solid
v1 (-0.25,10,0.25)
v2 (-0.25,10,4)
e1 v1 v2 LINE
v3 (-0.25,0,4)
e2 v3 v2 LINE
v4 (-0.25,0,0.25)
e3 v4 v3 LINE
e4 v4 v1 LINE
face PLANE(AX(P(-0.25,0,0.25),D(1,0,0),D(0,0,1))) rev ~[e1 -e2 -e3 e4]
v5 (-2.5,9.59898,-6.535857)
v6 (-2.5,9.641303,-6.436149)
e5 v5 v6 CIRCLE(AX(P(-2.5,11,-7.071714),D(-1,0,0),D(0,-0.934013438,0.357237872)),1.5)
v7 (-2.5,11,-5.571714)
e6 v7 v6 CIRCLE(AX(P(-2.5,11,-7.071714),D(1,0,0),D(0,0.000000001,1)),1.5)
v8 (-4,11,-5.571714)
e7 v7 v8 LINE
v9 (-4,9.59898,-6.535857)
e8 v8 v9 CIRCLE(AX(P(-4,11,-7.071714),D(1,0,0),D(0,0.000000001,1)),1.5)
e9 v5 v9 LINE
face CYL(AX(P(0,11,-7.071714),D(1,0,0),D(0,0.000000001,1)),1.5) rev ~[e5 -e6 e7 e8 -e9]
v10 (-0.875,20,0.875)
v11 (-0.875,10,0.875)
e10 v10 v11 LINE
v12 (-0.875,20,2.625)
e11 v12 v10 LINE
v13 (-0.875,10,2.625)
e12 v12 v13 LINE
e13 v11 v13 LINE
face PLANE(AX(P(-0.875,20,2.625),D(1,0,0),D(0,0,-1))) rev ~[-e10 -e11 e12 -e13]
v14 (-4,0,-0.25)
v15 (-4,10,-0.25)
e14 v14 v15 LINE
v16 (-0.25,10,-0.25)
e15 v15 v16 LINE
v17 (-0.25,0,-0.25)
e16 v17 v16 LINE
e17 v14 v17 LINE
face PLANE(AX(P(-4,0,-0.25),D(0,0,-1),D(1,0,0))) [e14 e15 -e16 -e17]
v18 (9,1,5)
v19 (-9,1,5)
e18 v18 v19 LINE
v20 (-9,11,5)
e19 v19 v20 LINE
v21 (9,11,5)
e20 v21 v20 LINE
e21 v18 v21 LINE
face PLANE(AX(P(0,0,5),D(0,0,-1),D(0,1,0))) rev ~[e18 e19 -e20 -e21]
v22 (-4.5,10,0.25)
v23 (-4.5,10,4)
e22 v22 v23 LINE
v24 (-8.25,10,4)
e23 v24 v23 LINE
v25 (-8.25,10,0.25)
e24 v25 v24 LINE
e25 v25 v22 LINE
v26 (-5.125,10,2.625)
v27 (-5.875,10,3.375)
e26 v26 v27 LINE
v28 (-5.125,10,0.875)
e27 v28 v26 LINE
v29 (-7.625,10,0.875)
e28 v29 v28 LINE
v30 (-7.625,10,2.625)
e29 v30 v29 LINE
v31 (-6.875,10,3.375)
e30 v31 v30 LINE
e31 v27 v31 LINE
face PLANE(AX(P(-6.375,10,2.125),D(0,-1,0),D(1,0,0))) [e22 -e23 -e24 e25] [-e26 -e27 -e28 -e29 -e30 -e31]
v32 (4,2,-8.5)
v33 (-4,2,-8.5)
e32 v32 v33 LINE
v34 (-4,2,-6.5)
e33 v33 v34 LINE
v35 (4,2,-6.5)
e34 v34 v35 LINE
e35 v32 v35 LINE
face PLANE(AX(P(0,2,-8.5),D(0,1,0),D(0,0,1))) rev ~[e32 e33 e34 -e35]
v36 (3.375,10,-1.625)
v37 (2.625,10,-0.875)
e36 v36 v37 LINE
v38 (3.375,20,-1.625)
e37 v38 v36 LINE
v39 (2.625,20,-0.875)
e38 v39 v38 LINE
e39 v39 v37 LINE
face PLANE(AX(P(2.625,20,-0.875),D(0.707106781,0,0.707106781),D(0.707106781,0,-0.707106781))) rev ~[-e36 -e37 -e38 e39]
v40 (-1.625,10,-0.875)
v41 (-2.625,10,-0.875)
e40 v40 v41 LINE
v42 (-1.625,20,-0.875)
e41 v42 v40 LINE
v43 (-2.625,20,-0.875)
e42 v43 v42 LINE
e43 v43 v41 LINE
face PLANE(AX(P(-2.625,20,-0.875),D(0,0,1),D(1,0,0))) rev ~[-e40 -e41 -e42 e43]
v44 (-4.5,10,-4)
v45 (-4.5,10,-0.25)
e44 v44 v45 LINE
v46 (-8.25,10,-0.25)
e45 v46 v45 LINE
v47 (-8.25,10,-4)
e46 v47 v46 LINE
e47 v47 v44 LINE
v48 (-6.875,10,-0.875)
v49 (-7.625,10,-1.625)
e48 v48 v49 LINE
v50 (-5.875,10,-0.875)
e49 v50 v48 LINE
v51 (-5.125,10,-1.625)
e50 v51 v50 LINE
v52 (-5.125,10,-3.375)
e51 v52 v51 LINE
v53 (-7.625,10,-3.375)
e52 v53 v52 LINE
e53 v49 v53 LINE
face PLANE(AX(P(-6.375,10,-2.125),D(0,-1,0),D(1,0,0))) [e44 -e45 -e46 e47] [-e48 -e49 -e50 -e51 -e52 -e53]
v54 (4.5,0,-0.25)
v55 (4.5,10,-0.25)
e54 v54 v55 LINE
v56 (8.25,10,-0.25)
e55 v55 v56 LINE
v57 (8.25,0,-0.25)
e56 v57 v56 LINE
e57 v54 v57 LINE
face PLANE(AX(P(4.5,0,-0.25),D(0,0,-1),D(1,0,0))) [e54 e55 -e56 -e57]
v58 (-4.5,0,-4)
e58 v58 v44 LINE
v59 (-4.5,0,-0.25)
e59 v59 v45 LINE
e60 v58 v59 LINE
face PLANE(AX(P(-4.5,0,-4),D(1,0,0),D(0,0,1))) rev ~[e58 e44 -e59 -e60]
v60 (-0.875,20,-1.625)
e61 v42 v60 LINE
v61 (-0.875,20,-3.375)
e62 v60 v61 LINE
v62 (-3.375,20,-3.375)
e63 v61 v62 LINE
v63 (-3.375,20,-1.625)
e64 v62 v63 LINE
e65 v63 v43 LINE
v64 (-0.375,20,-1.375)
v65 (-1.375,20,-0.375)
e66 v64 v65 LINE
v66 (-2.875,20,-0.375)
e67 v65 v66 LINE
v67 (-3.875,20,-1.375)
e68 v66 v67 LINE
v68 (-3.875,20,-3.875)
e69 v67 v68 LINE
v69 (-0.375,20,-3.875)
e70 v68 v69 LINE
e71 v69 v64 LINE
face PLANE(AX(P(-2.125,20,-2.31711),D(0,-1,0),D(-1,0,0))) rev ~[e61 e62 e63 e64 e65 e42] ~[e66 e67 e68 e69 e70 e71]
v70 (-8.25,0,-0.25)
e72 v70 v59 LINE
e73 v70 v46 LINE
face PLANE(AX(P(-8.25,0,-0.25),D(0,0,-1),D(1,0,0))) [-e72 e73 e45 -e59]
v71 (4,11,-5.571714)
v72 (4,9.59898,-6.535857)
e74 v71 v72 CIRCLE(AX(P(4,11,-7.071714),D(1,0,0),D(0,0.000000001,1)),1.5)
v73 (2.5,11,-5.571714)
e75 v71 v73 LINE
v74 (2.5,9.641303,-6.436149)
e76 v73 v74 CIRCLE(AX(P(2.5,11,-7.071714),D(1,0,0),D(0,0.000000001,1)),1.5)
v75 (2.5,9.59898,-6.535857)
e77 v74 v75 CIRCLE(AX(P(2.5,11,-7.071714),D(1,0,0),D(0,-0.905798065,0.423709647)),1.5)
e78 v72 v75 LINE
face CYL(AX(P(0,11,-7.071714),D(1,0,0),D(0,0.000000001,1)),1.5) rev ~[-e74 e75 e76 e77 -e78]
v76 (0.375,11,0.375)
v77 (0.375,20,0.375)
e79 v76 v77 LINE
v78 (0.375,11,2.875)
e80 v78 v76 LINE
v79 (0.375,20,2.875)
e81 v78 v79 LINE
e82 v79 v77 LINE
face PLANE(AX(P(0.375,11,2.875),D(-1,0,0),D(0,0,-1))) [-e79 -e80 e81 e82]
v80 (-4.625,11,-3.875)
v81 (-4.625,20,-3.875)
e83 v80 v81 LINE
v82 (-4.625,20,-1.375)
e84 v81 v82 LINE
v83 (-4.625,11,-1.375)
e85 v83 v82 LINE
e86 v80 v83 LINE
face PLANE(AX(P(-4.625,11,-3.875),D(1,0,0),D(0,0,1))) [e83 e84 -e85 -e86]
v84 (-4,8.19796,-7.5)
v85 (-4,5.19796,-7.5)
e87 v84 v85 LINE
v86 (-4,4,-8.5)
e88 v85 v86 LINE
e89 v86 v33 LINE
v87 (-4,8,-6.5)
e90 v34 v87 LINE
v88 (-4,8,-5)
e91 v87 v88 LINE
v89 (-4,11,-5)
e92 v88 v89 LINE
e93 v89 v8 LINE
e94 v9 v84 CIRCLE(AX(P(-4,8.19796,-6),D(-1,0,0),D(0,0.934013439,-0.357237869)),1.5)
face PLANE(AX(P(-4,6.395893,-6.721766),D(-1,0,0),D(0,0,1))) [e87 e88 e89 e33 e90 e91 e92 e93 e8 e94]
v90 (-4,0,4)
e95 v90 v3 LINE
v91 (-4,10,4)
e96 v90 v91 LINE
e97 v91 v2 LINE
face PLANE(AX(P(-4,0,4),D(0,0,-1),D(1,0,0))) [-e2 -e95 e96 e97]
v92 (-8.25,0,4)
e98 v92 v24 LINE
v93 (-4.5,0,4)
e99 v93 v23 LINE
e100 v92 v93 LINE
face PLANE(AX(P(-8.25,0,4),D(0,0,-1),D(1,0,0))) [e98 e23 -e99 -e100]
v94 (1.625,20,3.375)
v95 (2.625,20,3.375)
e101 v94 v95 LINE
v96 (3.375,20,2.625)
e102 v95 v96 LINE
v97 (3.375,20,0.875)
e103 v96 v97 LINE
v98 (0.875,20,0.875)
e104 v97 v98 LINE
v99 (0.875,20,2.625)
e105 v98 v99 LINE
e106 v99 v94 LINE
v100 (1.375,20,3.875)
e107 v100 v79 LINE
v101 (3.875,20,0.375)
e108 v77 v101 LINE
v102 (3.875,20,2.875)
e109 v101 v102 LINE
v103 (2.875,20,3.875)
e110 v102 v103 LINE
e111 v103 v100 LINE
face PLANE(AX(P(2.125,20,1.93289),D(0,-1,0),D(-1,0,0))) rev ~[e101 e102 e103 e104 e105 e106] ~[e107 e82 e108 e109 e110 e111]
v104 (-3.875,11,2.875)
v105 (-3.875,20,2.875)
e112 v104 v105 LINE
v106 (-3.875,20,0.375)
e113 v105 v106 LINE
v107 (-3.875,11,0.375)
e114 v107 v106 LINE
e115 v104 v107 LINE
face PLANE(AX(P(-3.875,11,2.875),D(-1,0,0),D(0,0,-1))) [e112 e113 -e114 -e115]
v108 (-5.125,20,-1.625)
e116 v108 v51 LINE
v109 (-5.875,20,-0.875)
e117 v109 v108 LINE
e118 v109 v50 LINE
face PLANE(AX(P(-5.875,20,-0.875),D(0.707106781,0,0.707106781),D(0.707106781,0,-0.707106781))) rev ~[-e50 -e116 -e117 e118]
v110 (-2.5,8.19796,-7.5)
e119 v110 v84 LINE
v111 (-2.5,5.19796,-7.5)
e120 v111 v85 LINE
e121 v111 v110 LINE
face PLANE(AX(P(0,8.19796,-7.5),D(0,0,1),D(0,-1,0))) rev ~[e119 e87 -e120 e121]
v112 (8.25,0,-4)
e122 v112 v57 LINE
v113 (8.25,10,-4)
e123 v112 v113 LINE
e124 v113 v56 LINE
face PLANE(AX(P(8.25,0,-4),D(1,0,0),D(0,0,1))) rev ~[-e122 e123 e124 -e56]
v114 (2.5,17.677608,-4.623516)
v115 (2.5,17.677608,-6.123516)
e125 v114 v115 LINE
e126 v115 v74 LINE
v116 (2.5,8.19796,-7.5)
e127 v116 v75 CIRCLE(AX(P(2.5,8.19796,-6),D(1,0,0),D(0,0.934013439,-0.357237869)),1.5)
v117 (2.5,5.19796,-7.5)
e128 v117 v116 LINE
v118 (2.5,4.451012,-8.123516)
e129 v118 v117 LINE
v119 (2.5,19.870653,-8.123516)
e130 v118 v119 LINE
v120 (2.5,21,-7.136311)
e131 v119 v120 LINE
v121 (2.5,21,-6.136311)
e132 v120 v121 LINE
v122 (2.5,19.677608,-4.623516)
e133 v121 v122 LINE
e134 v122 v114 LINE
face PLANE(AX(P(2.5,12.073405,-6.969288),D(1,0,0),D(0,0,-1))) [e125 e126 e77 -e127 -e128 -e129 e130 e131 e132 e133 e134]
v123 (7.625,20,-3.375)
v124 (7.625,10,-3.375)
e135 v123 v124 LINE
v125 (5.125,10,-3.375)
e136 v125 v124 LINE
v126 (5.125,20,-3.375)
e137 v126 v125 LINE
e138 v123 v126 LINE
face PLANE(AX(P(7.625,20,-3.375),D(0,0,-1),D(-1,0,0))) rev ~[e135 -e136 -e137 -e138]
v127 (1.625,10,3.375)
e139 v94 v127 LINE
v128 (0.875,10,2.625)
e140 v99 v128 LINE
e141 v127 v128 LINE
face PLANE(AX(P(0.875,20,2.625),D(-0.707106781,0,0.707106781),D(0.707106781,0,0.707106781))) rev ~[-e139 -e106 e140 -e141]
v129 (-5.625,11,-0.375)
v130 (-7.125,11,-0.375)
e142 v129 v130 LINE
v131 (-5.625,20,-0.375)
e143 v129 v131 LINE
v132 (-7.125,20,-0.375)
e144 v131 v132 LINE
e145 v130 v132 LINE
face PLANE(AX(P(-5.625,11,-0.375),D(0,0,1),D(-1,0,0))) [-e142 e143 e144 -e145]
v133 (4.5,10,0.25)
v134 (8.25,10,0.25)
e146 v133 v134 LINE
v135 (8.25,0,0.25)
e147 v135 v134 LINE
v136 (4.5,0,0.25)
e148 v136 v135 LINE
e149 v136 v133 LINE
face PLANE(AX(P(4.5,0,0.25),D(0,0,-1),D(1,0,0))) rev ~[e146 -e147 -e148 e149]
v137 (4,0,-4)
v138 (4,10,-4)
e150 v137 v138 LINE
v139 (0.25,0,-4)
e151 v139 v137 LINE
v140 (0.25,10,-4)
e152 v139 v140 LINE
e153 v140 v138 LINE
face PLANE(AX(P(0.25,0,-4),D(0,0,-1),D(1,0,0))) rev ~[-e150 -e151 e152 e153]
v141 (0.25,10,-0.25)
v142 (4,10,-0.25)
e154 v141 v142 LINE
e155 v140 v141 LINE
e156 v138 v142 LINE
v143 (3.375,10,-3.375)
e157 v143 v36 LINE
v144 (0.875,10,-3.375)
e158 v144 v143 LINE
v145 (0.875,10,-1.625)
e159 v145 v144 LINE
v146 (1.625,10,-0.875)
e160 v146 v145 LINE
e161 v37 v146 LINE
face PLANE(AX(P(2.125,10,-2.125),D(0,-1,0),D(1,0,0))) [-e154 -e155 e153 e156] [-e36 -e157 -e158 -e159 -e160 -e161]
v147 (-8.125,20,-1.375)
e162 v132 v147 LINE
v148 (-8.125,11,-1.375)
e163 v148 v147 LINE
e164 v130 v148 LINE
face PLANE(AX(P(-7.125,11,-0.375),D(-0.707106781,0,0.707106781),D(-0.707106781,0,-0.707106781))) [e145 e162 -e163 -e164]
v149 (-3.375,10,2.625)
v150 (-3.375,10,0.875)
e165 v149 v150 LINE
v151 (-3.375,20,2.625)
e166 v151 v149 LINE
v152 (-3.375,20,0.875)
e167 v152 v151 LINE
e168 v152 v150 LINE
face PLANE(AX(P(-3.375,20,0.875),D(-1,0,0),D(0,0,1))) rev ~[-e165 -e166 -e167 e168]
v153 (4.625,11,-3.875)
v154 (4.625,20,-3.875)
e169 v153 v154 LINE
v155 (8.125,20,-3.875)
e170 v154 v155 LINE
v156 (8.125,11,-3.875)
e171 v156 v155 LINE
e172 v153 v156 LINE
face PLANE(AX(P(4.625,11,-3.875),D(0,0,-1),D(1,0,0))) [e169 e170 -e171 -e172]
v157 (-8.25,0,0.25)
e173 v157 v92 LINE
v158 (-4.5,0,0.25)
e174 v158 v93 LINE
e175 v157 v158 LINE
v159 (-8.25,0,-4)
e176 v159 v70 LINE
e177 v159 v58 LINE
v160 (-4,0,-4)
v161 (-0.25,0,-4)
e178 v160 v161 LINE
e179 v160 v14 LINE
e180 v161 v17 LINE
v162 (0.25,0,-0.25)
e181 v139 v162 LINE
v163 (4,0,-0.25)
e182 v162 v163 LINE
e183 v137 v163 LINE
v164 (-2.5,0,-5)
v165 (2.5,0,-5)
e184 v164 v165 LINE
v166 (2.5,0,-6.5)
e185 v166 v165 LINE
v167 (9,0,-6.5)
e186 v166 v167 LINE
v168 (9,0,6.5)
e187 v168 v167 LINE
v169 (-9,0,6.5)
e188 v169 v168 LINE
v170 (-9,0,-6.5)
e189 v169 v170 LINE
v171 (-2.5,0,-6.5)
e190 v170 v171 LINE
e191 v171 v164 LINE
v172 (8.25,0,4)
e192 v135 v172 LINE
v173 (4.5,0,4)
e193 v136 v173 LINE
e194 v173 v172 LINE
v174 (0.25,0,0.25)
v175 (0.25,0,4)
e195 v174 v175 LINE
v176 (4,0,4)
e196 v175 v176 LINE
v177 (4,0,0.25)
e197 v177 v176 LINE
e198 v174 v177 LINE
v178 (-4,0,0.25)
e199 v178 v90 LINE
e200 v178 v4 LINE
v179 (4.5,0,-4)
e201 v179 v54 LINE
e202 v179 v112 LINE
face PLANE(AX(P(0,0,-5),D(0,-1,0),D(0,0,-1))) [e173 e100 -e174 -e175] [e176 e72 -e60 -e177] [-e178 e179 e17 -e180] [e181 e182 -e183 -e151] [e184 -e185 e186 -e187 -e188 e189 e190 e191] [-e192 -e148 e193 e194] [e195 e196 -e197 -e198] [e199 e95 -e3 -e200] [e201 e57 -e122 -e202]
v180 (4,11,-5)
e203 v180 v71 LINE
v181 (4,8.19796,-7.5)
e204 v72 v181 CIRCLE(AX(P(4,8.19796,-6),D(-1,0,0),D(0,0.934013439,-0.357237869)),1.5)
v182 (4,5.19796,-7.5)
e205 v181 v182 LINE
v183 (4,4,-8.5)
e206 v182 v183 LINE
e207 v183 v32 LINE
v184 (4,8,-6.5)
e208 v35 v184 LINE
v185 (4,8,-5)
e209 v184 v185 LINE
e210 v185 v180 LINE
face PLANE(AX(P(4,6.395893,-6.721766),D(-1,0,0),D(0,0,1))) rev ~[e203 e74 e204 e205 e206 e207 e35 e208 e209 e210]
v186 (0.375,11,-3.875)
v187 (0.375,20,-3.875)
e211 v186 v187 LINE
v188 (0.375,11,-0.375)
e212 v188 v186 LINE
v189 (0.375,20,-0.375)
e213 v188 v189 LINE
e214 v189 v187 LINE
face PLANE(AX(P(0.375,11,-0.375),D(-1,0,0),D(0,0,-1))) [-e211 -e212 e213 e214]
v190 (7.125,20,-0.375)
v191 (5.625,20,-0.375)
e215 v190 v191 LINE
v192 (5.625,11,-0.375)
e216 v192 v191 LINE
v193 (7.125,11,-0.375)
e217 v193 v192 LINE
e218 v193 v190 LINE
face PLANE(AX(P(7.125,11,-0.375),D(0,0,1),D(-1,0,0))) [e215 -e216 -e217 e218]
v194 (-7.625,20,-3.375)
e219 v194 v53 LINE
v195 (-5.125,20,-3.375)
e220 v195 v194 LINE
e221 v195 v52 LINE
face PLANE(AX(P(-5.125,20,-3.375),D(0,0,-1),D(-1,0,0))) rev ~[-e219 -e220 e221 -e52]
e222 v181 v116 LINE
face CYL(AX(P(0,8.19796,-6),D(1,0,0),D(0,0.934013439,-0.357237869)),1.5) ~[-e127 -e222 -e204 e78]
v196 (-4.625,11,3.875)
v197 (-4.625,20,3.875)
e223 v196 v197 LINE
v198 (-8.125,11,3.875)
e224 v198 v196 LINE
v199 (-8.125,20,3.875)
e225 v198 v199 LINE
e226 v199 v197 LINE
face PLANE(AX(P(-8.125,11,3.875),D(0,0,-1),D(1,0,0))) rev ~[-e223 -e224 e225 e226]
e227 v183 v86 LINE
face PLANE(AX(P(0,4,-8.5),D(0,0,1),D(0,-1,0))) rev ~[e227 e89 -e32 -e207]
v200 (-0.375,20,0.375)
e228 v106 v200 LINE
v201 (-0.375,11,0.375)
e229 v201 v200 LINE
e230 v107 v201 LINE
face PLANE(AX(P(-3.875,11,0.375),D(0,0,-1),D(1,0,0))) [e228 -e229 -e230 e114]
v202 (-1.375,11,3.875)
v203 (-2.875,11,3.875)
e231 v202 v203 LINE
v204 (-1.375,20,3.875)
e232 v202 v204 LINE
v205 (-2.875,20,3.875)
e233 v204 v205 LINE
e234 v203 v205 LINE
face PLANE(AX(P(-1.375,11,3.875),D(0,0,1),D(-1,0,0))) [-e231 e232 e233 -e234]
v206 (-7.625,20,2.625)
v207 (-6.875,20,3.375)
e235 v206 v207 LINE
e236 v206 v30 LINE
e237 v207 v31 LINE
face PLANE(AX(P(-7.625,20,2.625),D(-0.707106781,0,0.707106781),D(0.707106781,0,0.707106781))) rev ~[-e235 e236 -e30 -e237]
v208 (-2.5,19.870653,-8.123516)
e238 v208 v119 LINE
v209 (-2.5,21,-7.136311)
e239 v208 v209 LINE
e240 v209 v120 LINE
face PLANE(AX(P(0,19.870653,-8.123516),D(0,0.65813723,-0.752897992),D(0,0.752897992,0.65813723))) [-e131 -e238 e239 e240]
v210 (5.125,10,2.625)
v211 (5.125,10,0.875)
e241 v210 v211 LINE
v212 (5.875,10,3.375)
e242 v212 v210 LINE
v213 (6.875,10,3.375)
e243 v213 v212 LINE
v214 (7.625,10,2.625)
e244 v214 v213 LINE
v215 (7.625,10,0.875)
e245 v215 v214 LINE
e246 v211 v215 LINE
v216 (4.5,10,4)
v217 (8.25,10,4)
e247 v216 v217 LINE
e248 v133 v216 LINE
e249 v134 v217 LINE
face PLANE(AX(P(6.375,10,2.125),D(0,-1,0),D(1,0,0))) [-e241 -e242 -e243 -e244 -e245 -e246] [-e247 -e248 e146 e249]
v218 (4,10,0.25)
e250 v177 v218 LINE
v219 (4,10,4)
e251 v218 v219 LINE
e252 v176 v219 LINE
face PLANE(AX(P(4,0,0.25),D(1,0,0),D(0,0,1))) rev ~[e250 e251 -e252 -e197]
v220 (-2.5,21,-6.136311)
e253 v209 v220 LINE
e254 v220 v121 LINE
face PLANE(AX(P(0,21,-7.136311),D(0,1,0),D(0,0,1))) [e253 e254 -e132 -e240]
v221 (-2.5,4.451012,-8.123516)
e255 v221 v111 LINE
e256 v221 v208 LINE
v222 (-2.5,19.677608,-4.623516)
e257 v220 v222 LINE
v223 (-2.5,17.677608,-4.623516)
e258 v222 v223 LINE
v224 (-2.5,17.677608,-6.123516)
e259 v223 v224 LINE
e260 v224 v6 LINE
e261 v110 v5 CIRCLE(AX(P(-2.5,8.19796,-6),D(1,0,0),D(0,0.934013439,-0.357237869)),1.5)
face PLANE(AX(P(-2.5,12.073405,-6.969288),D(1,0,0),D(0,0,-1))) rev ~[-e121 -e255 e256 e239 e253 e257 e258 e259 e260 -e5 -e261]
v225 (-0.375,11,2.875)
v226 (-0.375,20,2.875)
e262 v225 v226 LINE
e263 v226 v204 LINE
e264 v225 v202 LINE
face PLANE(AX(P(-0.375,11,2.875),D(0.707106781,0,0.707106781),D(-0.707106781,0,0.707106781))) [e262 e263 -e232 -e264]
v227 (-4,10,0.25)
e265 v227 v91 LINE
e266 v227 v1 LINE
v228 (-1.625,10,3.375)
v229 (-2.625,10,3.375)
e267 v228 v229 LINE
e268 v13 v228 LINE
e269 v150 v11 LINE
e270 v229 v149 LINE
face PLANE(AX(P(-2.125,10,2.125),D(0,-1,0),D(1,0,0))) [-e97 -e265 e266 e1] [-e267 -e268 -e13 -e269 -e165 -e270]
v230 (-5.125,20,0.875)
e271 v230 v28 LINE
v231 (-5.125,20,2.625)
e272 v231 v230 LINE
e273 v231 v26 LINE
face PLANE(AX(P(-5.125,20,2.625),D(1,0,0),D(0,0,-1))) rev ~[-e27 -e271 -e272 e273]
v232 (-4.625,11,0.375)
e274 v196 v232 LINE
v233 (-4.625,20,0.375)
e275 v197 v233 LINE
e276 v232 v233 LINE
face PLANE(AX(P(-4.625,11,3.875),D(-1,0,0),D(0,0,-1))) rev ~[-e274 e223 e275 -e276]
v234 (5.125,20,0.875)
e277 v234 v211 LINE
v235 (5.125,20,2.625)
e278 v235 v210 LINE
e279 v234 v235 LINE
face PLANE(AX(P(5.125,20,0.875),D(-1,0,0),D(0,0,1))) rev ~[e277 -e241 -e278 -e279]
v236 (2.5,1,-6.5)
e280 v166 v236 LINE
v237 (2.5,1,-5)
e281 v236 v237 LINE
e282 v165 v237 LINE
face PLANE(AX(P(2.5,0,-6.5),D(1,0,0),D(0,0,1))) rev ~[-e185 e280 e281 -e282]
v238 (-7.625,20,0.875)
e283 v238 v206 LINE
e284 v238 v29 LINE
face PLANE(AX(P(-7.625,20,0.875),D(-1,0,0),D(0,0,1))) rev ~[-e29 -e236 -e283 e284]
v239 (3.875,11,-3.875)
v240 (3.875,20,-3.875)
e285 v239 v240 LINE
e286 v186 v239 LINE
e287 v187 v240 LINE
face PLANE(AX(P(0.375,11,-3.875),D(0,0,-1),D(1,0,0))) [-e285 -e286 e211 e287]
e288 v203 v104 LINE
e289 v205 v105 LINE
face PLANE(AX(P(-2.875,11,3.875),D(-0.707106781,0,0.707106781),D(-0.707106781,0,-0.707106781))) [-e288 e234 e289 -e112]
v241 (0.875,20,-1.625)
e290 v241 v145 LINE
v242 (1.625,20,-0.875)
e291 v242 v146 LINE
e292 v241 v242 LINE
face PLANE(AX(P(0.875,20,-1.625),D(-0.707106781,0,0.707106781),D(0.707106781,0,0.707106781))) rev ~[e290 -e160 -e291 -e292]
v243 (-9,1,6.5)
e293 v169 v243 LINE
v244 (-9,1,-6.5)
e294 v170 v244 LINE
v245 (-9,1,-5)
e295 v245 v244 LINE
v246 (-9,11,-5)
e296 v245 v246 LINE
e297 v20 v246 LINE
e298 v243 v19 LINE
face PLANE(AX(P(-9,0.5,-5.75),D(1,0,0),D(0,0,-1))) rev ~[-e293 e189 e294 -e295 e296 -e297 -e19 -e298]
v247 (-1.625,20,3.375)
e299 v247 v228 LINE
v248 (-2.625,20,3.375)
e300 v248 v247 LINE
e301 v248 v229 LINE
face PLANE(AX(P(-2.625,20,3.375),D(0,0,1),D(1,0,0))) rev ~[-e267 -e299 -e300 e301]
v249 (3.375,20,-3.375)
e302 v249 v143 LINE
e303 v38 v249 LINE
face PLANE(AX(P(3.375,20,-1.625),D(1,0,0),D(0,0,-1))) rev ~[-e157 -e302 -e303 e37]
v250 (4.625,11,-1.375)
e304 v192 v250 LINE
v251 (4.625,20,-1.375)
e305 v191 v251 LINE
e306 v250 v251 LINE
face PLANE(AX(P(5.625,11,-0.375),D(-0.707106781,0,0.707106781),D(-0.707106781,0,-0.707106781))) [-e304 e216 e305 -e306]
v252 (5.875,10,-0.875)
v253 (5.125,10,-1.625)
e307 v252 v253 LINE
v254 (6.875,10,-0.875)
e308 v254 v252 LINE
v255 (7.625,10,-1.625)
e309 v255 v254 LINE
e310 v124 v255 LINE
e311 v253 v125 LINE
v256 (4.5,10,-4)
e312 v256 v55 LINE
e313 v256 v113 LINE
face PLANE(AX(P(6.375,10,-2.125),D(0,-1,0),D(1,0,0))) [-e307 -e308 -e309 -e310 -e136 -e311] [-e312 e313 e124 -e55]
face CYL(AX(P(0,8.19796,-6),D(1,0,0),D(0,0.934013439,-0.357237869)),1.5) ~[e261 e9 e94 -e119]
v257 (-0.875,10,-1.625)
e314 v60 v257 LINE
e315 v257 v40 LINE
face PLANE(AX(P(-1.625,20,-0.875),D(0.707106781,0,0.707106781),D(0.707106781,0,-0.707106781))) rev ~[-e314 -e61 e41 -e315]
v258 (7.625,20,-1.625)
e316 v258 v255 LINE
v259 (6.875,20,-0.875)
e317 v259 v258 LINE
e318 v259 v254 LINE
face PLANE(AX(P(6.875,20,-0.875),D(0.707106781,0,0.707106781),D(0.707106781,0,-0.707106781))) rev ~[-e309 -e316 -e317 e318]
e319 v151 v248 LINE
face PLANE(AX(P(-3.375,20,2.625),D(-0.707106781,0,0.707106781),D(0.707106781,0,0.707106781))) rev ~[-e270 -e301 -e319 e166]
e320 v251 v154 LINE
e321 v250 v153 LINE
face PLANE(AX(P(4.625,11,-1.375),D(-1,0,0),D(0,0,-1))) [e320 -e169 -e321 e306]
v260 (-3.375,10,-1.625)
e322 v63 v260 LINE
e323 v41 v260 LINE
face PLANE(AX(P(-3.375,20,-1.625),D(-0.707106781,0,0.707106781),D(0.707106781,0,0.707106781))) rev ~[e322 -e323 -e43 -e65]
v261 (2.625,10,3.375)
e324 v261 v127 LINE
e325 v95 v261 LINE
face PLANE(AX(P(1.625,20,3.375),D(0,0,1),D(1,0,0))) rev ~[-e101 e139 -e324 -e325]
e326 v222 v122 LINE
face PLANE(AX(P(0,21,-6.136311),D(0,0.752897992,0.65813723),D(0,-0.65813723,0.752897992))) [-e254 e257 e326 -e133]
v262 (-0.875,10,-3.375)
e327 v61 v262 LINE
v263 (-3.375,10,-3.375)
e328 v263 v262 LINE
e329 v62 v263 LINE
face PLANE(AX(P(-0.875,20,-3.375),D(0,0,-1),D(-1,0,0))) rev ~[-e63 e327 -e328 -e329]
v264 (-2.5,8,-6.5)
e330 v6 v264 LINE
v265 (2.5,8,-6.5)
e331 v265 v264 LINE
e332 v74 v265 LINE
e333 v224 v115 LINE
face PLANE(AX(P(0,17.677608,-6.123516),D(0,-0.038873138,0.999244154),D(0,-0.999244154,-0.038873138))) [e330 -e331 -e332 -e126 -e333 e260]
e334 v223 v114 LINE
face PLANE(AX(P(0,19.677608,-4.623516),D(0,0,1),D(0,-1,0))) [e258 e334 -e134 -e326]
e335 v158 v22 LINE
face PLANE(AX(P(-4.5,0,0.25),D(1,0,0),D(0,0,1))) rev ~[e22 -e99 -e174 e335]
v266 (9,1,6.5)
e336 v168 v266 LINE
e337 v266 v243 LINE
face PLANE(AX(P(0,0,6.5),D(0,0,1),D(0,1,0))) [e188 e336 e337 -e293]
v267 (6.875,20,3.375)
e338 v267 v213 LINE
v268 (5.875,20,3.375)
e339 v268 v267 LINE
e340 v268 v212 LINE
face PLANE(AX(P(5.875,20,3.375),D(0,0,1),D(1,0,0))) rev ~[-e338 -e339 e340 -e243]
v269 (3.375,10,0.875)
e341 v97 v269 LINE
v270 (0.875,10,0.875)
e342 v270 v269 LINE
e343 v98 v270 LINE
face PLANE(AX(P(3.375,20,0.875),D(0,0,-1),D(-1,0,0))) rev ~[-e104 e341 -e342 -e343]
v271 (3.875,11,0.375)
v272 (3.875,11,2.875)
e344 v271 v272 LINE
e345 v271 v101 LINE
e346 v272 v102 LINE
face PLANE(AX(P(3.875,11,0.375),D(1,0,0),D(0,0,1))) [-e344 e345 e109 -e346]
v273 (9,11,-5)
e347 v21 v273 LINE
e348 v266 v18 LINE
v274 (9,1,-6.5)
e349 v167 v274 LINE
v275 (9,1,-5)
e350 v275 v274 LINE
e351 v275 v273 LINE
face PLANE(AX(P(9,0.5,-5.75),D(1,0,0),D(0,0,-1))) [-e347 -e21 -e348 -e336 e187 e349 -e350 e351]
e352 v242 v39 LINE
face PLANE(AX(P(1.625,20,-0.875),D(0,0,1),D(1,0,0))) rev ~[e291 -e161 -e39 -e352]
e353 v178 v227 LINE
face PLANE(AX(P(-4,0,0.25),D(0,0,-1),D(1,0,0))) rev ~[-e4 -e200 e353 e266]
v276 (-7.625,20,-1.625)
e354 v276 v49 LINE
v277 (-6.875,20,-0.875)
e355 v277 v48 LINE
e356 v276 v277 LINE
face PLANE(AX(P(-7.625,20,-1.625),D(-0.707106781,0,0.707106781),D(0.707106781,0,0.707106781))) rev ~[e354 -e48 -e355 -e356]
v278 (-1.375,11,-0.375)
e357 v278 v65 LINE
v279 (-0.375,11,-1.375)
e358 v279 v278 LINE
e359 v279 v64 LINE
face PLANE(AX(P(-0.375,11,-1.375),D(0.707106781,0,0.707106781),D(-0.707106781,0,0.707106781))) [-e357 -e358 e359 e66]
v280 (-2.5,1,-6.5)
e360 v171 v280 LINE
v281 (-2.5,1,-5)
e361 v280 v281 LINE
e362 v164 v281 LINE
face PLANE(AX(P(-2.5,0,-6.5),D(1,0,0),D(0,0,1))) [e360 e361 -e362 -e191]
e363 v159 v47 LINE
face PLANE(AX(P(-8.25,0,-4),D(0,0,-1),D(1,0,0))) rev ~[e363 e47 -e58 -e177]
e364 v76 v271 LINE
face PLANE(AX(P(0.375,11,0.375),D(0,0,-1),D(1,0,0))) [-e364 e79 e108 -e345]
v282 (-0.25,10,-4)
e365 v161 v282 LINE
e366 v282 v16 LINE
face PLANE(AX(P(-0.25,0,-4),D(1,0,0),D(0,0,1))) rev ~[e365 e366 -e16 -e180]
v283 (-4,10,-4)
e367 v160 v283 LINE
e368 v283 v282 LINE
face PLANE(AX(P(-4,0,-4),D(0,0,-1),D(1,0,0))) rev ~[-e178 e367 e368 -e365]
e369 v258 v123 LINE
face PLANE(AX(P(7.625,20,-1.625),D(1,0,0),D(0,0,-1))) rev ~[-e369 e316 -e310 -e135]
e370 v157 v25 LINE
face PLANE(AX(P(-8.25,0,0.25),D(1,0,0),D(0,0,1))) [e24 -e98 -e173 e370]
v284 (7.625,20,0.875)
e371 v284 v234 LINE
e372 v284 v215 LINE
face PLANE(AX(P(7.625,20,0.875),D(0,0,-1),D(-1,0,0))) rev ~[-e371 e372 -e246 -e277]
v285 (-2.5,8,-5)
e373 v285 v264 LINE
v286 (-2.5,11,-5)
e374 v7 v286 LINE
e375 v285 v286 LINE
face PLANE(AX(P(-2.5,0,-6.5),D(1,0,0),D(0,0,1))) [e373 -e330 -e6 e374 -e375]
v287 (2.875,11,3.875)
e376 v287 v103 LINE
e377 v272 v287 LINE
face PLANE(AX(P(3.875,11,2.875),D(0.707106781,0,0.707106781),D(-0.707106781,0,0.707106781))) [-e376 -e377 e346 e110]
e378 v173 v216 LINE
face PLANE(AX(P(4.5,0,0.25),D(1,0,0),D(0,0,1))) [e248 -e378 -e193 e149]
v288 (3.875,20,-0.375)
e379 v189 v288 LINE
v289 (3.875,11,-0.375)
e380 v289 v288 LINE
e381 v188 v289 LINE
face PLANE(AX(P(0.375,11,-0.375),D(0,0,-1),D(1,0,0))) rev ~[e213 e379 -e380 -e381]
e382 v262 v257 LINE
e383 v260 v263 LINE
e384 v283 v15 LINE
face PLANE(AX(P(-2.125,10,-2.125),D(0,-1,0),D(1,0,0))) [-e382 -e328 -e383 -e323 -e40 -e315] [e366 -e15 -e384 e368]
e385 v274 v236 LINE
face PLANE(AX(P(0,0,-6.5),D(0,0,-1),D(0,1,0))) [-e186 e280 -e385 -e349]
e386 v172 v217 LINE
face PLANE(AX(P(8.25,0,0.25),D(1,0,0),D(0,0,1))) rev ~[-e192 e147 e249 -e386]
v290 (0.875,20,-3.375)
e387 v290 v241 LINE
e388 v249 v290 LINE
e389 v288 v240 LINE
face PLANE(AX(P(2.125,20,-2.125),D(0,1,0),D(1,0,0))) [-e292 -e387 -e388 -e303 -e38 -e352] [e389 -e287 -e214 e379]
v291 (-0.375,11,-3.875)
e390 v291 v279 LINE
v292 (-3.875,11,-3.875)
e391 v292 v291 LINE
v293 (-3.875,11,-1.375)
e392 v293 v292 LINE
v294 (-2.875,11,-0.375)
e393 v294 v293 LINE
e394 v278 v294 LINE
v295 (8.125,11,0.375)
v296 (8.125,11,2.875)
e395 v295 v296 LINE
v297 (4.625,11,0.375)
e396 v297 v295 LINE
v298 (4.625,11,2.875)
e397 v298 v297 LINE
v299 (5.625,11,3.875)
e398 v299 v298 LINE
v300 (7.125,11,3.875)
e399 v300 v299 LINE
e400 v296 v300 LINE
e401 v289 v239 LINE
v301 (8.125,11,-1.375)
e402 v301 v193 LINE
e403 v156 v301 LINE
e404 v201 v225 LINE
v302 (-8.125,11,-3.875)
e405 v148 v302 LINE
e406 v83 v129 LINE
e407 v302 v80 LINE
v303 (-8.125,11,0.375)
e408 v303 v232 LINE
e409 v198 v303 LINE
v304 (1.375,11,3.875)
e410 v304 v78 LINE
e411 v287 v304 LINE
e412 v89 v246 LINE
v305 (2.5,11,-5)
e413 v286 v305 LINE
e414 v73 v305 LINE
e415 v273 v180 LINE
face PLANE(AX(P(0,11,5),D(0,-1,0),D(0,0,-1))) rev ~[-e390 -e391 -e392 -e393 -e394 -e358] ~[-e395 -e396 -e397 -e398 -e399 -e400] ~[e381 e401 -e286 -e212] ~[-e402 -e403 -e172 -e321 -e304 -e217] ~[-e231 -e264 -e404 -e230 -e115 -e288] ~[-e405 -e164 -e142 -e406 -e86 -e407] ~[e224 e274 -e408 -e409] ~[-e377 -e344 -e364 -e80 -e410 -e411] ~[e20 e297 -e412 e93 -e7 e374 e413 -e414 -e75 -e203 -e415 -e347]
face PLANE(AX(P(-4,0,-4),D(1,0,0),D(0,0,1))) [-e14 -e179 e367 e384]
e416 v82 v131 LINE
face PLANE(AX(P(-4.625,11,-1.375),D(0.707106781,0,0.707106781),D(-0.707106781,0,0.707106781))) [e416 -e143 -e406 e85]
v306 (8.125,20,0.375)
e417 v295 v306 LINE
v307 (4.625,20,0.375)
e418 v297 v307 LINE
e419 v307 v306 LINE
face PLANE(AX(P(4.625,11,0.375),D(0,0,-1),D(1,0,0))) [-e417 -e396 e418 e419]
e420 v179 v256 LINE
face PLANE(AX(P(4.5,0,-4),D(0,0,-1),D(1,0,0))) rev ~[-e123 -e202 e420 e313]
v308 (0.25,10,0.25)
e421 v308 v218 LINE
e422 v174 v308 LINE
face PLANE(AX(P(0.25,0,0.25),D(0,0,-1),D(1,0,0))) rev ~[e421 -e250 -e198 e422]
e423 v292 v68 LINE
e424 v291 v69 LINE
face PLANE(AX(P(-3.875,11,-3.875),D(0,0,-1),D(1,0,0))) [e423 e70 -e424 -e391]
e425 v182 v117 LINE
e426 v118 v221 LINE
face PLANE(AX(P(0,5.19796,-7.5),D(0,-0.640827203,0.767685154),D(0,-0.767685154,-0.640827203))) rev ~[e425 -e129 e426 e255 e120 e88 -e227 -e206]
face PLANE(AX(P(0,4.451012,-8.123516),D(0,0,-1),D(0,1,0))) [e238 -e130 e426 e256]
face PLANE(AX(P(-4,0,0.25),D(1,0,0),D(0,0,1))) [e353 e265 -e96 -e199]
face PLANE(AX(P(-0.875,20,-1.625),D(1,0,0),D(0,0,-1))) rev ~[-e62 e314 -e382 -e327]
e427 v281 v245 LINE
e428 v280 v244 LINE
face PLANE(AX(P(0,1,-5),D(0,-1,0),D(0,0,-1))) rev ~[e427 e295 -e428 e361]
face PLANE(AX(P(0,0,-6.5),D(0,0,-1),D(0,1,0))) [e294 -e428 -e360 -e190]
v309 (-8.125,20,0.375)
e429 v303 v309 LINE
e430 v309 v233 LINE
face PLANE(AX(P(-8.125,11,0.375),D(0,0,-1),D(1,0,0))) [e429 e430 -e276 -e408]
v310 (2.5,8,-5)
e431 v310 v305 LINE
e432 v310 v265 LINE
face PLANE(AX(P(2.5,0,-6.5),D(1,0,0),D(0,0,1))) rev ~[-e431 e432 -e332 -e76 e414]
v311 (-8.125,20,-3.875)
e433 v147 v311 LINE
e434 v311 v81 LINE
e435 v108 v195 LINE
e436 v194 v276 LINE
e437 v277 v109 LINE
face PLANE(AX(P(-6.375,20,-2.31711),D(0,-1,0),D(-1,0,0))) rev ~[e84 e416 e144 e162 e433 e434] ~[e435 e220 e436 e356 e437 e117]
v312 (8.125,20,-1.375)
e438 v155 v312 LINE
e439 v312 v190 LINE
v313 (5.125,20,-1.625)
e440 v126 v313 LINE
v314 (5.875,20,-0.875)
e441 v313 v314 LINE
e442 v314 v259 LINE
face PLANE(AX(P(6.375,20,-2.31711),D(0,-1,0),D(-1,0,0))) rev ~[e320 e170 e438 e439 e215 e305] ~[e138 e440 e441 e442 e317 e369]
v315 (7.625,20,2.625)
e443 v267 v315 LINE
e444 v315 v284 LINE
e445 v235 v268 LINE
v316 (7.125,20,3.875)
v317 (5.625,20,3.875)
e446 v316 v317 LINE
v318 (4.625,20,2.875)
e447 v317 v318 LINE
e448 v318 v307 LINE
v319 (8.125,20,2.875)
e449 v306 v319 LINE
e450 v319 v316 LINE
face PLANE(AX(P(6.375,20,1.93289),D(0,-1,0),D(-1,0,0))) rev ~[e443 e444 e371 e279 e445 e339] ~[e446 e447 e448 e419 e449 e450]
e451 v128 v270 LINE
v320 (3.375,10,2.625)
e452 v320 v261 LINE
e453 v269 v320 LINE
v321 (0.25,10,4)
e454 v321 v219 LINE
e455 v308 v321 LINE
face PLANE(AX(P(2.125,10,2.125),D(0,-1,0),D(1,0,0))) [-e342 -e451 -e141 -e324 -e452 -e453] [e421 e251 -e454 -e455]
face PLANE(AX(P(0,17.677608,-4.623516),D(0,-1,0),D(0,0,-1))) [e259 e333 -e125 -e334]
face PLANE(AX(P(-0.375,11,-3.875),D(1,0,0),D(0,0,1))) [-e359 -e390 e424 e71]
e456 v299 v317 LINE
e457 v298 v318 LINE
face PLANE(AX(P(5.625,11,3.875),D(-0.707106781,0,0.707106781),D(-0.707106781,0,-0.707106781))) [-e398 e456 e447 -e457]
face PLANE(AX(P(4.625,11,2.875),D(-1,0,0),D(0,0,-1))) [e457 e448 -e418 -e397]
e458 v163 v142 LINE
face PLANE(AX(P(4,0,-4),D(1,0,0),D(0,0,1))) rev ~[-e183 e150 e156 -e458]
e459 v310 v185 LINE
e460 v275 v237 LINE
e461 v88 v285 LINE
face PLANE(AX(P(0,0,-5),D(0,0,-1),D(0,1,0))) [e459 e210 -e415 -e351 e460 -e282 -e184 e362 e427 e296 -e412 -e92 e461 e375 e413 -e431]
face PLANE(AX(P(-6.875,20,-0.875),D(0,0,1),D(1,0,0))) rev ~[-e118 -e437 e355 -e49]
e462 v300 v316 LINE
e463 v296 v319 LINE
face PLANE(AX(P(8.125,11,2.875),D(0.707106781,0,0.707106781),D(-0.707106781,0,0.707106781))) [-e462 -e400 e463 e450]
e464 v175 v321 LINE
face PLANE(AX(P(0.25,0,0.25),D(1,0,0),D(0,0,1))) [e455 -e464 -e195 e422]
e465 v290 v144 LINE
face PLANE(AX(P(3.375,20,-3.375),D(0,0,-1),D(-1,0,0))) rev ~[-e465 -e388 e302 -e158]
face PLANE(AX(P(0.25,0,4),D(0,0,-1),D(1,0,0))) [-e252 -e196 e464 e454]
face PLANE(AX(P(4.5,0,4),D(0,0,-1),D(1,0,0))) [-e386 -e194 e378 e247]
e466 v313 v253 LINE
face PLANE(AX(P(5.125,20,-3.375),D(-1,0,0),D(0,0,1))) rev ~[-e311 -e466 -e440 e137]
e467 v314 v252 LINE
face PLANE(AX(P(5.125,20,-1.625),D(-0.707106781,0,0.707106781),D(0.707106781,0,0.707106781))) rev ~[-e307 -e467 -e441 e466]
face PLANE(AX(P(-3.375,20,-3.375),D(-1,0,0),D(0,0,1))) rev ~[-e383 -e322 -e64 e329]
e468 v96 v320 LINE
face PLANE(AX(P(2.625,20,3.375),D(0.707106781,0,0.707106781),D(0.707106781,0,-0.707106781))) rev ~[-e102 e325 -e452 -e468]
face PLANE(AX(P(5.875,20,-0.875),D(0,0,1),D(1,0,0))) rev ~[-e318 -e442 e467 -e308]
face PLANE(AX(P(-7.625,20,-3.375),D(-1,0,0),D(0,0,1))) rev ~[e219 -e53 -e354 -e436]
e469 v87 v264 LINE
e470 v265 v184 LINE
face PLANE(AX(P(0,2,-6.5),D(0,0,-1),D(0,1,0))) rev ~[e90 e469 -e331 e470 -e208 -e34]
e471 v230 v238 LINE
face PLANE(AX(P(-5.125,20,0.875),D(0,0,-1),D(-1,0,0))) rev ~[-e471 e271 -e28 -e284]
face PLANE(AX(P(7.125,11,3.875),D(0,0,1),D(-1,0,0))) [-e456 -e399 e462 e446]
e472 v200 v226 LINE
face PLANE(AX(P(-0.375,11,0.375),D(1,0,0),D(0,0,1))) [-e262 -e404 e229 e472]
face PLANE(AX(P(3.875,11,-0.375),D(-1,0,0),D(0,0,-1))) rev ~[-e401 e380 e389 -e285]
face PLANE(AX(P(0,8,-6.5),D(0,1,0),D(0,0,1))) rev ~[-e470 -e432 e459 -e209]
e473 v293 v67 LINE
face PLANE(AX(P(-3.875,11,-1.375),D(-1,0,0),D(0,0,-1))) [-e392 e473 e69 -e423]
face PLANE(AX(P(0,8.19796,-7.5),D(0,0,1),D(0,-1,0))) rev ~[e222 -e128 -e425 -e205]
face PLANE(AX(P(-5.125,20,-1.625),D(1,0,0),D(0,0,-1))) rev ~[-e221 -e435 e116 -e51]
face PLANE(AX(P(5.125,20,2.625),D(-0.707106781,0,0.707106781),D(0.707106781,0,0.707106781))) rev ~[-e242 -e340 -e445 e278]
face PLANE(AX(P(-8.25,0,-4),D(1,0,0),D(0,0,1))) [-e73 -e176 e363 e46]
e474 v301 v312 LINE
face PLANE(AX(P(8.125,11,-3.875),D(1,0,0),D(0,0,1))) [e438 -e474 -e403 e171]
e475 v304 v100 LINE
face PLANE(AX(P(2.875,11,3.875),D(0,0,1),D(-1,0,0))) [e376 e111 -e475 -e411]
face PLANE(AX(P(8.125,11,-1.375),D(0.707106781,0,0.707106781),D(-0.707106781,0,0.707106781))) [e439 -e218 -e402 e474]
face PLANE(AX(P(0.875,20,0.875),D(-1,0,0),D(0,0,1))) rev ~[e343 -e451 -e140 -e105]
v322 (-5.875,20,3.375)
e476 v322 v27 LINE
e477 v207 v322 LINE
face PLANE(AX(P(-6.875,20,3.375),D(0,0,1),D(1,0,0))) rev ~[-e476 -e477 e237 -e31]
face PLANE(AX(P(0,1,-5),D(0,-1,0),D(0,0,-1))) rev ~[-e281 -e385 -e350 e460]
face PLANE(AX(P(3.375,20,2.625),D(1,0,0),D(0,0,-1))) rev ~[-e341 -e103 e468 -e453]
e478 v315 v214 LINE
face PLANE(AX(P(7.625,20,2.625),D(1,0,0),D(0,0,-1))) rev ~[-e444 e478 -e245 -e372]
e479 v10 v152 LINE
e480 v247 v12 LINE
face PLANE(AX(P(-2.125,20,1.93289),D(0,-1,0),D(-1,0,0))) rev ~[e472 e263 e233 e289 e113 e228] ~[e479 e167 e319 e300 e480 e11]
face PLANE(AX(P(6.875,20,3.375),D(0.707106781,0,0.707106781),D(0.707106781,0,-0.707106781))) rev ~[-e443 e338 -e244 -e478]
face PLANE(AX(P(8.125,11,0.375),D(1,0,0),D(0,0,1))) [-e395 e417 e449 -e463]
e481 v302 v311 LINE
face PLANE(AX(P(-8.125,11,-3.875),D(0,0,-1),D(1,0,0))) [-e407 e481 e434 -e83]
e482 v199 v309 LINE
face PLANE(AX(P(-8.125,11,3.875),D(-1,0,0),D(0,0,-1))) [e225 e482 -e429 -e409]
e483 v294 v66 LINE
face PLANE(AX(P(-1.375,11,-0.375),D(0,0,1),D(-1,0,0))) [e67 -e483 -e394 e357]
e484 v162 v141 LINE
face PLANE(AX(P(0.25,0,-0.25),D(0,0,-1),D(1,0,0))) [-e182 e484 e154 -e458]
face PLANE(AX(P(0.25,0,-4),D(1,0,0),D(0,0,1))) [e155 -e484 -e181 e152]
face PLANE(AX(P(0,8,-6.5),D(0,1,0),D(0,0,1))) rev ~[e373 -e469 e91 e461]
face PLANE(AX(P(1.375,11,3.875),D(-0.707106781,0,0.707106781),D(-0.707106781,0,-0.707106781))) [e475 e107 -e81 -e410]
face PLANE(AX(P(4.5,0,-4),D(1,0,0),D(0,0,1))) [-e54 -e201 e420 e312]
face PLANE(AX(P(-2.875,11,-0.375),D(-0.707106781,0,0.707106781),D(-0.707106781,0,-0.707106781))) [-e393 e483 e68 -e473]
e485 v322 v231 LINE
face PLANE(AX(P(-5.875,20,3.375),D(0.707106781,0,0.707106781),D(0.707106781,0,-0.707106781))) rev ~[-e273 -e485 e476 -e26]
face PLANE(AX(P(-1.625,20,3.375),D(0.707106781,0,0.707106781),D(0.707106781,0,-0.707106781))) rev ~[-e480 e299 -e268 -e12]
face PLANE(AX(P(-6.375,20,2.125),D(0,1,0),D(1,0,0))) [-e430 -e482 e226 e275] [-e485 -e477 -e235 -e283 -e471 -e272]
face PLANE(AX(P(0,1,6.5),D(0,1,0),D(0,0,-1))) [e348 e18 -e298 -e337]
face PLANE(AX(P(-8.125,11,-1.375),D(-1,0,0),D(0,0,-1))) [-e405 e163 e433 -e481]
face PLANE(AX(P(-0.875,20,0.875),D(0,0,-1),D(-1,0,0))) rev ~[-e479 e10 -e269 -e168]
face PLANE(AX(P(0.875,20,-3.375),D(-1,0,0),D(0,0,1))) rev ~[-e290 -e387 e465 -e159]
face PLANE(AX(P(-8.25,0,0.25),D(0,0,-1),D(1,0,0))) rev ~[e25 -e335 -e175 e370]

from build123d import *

# Parameters (mm, degrees)
SKIZZE1_W                       = 10
SKIZZE1_H                       = 11
AUFSATZ_LINEAR_AUSTRAGEN1_DEPTH = 9
SKIZZE2_W                       = 1.5
SKIZZE2_H                       = 1
AUFSATZ_LINEAR_AUSTRAGEN2_DEPTH = 9
AUFSATZ_LINEAR_AUSTRAGEN3_DEPTH = 4
SKIZZE4_W                       = 5
SKIZZE4_H                       = 1.5
SCHNITT_LINEAR_AUSTRAGEN1_DEPTH = 12
AUFSATZ_LINEAR_AUSTRAGEN4_DEPTH = 2.5
SKIZZE6_W                       = 3.75
SKIZZE6_H                       = 3.75
SCHNITT_LINEAR_AUSTRAGEN2_DEPTH = 10
LINEARES_MUSTER1_COUNT          = 4
LINEARES_MUSTER1_PITCH          = 4.25
LINEARES_MUSTER1_COUNT_DIR2     = 2
LINEARES_MUSTER1_PITCH_DIR2     = 4.25
SKIZZE7_W                       = 3.5
SKIZZE7_H                       = 3.5
AUFSATZ_LINEAR_AUSTRAGEN5_DEPTH = 9
LINEARES_MUSTER2_COUNT          = 3
LINEARES_MUSTER2_PITCH          = 4.25
LINEARES_MUSTER2_COUNT_DIR2     = 2
LINEARES_MUSTER2_PITCH_DIR2     = 4.25
AUFSATZ_LINEAR_AUSTRAGEN7_DEPTH = 9
LINEARES_MUSTER4_COUNT          = 4
LINEARES_MUSTER4_PITCH          = 4.25
LINEARES_MUSTER4_COUNT_DIR2     = 2
LINEARES_MUSTER4_PITCH_DIR2     = 4.25
SCHNITT_LINEAR_AUSTRAGEN4_DEPTH = 21
LINEARES_MUSTER6_COUNT          = 4
LINEARES_MUSTER6_PITCH          = 4.25
LINEARES_MUSTER6_COUNT_DIR2     = 2
LINEARES_MUSTER6_PITCH_DIR2     = 4.25


with BuildPart() as part:
    # Skizze1 → Aufsatz-Linear austragen1 (new body, symmetric)
    with BuildSketch(Plane(origin=(0, 0, 0), x_dir=(0, 0, -1), z_dir=(1, 0, 0))):
        with Locations((0, 5.5)):
            Rectangle(SKIZZE1_W, SKIZZE1_H)
    extrude(amount=AUFSATZ_LINEAR_AUSTRAGEN1_DEPTH, both=True)

    # Skizze2 → Aufsatz-Linear austragen2 (add, symmetric)
    with BuildSketch(Plane(origin=(0, 0, 0), x_dir=(0, 0, -1), z_dir=(1, 0, 0))):
        with Locations((-5.75, 0.5)):
            Rectangle(SKIZZE2_W, SKIZZE2_H)
        with Locations((5.75, 0.5)):
            Rectangle(SKIZZE2_W, SKIZZE2_H)
    extrude(amount=AUFSATZ_LINEAR_AUSTRAGEN2_DEPTH, both=True)

    # Skizze3 → Aufsatz-Linear austragen3 (add, symmetric)
    with BuildSketch(Plane(origin=(0, 0, 0), x_dir=(0, 0, -1), z_dir=(1, 0, 0))):
        with BuildLine():
            Line((5, 11), (5.571713615, 11))
            ThreePointArc((5.571713615, 11), (5.836038655, 10.149642784), (6.535856807, 9.598979842))
            ThreePointArc((6.535856807, 9.598979842), (7.23567496, 9.048316901), (7.5, 8.197959685))
            Line((7.5, 8.197959685), (7.5, 5.197959685))
            Line((7.5, 5.197959685), (8.5, 4))
            Line((8.5, 4), (8.5, 2))
            Line((8.5, 2), (6.5, 2))
            Line((6.5, 2), (6.5, 8))
            Line((6.5, 8), (5, 8))
            Line((5, 8), (5, 11))
        make_face()
    extrude(amount=AUFSATZ_LINEAR_AUSTRAGEN3_DEPTH, both=True)

    # Skizze4 → Schnitt-Linear austragen1 (cut, through all)
    with BuildSketch(Plane.XZ):
        with Locations((0, -5.75)):
            Rectangle(SKIZZE4_W, SKIZZE4_H)
    extrude(amount=-SCHNITT_LINEAR_AUSTRAGEN1_DEPTH, mode=Mode.SUBTRACT)

    # Skizze5 → Aufsatz-Linear austragen4 (add, symmetric)
    with BuildSketch(Plane(origin=(0, 0, 0), x_dir=(0, 0, -1), z_dir=(1, 0, 0))):
        Polygon((8.123516438, 4.451012129), (8.123516438, 19.870653012), (7.136310593, 21), (6.136310593, 21), (4.623516438, 19.677608169), (4.623516438, 17.677608169), (6.123516438, 17.677608169), (6.5, 8), (6.5, 2), align=None)
    extrude(amount=AUFSATZ_LINEAR_AUSTRAGEN4_DEPTH, both=True)

    # Skizze6 → Schnitt-Linear austragen2 (cut)
    with BuildSketch(Plane.XZ):
        with Locations((-6.375, -2.125)):
            Rectangle(SKIZZE6_W, SKIZZE6_H)
    schnitt_linear_austragen2 = extrude(amount=-SCHNITT_LINEAR_AUSTRAGEN2_DEPTH, mode=Mode.SUBTRACT)

    # Lineares Muster1: Schnitt-Linear austragen2 4 × 2
    with Locations(*[(i * LINEARES_MUSTER1_PITCH, 0, j * LINEARES_MUSTER1_PITCH_DIR2) for i in range(LINEARES_MUSTER1_COUNT) for j in range(LINEARES_MUSTER1_COUNT_DIR2) if (i, j) != (0, 0)]):
        add(schnitt_linear_austragen2, mode=Mode.SUBTRACT)

    # Skizze7 → Aufsatz-Linear austragen5 (add)
    with BuildSketch(Plane(origin=(0, 11, 0), x_dir=(1, 0, 0), z_dir=(0, 1, 0))):
        with Locations((-6.375, -2.125)):
            Rectangle(SKIZZE7_W, SKIZZE7_H)
    aufsatz_linear_austragen5 = extrude(amount=AUFSATZ_LINEAR_AUSTRAGEN5_DEPTH)

    # Lineares Muster2: Aufsatz-Linear austragen5 3 × 2, 4 skipped
    with Locations(*[(i * LINEARES_MUSTER2_PITCH, 0, -j * LINEARES_MUSTER2_PITCH_DIR2) for i in range(LINEARES_MUSTER2_COUNT) for j in range(LINEARES_MUSTER2_COUNT_DIR2) if (i, j) not in ((0, 0), (0, 1), (1, 0), (1, 1), (2, 0))]):
        add(aufsatz_linear_austragen5)

    # Skizze10 → Aufsatz-Linear austragen7 (add)
    with BuildSketch(Plane(origin=(0, 11, 0), x_dir=(1, 0, 0), z_dir=(0, 1, 0))):
        Polygon((-4.625, 1.375), (-5.625, 0.375), (-7.125, 0.375), (-8.125, 1.375), (-8.125, 3.875), (-4.625, 3.875), align=None)
    aufsatz_linear_austragen7 = extrude(amount=AUFSATZ_LINEAR_AUSTRAGEN7_DEPTH)

    # Lineares Muster4: Aufsatz-Linear austragen7 4 × 2, 2 skipped
    with Locations(*[(i * LINEARES_MUSTER4_PITCH, 0, j * LINEARES_MUSTER4_PITCH_DIR2) for i in range(LINEARES_MUSTER4_COUNT) for j in range(LINEARES_MUSTER4_COUNT_DIR2) if (i, j) not in ((0, 0), (0, 1), (2, 0))]):
        add(aufsatz_linear_austragen7)

    # Skizze12 → Schnitt-Linear austragen4 (cut, through all)
    with BuildSketch(Plane(origin=(0, 20, 0), x_dir=(1, 0, 0), z_dir=(0, 1, 0))):
        Polygon((-5.875, 0.875), (-5.125, 1.625), (-5.125, 3.375), (-7.625, 3.375), (-7.625, 1.625), (-6.875, 0.875), align=None)
    schnitt_linear_austragen4 = extrude(amount=-SCHNITT_LINEAR_AUSTRAGEN4_DEPTH, mode=Mode.SUBTRACT)

    # Lineares Muster6: Schnitt-Linear austragen4 4 × 2
    with Locations(*[(i * LINEARES_MUSTER6_PITCH, 0, j * LINEARES_MUSTER6_PITCH_DIR2) for i in range(LINEARES_MUSTER6_COUNT) for j in range(LINEARES_MUSTER6_COUNT_DIR2) if (i, j) != (0, 0)]):
        add(schnitt_linear_austragen4, mode=Mode.SUBTRACT)


solid = part.part
